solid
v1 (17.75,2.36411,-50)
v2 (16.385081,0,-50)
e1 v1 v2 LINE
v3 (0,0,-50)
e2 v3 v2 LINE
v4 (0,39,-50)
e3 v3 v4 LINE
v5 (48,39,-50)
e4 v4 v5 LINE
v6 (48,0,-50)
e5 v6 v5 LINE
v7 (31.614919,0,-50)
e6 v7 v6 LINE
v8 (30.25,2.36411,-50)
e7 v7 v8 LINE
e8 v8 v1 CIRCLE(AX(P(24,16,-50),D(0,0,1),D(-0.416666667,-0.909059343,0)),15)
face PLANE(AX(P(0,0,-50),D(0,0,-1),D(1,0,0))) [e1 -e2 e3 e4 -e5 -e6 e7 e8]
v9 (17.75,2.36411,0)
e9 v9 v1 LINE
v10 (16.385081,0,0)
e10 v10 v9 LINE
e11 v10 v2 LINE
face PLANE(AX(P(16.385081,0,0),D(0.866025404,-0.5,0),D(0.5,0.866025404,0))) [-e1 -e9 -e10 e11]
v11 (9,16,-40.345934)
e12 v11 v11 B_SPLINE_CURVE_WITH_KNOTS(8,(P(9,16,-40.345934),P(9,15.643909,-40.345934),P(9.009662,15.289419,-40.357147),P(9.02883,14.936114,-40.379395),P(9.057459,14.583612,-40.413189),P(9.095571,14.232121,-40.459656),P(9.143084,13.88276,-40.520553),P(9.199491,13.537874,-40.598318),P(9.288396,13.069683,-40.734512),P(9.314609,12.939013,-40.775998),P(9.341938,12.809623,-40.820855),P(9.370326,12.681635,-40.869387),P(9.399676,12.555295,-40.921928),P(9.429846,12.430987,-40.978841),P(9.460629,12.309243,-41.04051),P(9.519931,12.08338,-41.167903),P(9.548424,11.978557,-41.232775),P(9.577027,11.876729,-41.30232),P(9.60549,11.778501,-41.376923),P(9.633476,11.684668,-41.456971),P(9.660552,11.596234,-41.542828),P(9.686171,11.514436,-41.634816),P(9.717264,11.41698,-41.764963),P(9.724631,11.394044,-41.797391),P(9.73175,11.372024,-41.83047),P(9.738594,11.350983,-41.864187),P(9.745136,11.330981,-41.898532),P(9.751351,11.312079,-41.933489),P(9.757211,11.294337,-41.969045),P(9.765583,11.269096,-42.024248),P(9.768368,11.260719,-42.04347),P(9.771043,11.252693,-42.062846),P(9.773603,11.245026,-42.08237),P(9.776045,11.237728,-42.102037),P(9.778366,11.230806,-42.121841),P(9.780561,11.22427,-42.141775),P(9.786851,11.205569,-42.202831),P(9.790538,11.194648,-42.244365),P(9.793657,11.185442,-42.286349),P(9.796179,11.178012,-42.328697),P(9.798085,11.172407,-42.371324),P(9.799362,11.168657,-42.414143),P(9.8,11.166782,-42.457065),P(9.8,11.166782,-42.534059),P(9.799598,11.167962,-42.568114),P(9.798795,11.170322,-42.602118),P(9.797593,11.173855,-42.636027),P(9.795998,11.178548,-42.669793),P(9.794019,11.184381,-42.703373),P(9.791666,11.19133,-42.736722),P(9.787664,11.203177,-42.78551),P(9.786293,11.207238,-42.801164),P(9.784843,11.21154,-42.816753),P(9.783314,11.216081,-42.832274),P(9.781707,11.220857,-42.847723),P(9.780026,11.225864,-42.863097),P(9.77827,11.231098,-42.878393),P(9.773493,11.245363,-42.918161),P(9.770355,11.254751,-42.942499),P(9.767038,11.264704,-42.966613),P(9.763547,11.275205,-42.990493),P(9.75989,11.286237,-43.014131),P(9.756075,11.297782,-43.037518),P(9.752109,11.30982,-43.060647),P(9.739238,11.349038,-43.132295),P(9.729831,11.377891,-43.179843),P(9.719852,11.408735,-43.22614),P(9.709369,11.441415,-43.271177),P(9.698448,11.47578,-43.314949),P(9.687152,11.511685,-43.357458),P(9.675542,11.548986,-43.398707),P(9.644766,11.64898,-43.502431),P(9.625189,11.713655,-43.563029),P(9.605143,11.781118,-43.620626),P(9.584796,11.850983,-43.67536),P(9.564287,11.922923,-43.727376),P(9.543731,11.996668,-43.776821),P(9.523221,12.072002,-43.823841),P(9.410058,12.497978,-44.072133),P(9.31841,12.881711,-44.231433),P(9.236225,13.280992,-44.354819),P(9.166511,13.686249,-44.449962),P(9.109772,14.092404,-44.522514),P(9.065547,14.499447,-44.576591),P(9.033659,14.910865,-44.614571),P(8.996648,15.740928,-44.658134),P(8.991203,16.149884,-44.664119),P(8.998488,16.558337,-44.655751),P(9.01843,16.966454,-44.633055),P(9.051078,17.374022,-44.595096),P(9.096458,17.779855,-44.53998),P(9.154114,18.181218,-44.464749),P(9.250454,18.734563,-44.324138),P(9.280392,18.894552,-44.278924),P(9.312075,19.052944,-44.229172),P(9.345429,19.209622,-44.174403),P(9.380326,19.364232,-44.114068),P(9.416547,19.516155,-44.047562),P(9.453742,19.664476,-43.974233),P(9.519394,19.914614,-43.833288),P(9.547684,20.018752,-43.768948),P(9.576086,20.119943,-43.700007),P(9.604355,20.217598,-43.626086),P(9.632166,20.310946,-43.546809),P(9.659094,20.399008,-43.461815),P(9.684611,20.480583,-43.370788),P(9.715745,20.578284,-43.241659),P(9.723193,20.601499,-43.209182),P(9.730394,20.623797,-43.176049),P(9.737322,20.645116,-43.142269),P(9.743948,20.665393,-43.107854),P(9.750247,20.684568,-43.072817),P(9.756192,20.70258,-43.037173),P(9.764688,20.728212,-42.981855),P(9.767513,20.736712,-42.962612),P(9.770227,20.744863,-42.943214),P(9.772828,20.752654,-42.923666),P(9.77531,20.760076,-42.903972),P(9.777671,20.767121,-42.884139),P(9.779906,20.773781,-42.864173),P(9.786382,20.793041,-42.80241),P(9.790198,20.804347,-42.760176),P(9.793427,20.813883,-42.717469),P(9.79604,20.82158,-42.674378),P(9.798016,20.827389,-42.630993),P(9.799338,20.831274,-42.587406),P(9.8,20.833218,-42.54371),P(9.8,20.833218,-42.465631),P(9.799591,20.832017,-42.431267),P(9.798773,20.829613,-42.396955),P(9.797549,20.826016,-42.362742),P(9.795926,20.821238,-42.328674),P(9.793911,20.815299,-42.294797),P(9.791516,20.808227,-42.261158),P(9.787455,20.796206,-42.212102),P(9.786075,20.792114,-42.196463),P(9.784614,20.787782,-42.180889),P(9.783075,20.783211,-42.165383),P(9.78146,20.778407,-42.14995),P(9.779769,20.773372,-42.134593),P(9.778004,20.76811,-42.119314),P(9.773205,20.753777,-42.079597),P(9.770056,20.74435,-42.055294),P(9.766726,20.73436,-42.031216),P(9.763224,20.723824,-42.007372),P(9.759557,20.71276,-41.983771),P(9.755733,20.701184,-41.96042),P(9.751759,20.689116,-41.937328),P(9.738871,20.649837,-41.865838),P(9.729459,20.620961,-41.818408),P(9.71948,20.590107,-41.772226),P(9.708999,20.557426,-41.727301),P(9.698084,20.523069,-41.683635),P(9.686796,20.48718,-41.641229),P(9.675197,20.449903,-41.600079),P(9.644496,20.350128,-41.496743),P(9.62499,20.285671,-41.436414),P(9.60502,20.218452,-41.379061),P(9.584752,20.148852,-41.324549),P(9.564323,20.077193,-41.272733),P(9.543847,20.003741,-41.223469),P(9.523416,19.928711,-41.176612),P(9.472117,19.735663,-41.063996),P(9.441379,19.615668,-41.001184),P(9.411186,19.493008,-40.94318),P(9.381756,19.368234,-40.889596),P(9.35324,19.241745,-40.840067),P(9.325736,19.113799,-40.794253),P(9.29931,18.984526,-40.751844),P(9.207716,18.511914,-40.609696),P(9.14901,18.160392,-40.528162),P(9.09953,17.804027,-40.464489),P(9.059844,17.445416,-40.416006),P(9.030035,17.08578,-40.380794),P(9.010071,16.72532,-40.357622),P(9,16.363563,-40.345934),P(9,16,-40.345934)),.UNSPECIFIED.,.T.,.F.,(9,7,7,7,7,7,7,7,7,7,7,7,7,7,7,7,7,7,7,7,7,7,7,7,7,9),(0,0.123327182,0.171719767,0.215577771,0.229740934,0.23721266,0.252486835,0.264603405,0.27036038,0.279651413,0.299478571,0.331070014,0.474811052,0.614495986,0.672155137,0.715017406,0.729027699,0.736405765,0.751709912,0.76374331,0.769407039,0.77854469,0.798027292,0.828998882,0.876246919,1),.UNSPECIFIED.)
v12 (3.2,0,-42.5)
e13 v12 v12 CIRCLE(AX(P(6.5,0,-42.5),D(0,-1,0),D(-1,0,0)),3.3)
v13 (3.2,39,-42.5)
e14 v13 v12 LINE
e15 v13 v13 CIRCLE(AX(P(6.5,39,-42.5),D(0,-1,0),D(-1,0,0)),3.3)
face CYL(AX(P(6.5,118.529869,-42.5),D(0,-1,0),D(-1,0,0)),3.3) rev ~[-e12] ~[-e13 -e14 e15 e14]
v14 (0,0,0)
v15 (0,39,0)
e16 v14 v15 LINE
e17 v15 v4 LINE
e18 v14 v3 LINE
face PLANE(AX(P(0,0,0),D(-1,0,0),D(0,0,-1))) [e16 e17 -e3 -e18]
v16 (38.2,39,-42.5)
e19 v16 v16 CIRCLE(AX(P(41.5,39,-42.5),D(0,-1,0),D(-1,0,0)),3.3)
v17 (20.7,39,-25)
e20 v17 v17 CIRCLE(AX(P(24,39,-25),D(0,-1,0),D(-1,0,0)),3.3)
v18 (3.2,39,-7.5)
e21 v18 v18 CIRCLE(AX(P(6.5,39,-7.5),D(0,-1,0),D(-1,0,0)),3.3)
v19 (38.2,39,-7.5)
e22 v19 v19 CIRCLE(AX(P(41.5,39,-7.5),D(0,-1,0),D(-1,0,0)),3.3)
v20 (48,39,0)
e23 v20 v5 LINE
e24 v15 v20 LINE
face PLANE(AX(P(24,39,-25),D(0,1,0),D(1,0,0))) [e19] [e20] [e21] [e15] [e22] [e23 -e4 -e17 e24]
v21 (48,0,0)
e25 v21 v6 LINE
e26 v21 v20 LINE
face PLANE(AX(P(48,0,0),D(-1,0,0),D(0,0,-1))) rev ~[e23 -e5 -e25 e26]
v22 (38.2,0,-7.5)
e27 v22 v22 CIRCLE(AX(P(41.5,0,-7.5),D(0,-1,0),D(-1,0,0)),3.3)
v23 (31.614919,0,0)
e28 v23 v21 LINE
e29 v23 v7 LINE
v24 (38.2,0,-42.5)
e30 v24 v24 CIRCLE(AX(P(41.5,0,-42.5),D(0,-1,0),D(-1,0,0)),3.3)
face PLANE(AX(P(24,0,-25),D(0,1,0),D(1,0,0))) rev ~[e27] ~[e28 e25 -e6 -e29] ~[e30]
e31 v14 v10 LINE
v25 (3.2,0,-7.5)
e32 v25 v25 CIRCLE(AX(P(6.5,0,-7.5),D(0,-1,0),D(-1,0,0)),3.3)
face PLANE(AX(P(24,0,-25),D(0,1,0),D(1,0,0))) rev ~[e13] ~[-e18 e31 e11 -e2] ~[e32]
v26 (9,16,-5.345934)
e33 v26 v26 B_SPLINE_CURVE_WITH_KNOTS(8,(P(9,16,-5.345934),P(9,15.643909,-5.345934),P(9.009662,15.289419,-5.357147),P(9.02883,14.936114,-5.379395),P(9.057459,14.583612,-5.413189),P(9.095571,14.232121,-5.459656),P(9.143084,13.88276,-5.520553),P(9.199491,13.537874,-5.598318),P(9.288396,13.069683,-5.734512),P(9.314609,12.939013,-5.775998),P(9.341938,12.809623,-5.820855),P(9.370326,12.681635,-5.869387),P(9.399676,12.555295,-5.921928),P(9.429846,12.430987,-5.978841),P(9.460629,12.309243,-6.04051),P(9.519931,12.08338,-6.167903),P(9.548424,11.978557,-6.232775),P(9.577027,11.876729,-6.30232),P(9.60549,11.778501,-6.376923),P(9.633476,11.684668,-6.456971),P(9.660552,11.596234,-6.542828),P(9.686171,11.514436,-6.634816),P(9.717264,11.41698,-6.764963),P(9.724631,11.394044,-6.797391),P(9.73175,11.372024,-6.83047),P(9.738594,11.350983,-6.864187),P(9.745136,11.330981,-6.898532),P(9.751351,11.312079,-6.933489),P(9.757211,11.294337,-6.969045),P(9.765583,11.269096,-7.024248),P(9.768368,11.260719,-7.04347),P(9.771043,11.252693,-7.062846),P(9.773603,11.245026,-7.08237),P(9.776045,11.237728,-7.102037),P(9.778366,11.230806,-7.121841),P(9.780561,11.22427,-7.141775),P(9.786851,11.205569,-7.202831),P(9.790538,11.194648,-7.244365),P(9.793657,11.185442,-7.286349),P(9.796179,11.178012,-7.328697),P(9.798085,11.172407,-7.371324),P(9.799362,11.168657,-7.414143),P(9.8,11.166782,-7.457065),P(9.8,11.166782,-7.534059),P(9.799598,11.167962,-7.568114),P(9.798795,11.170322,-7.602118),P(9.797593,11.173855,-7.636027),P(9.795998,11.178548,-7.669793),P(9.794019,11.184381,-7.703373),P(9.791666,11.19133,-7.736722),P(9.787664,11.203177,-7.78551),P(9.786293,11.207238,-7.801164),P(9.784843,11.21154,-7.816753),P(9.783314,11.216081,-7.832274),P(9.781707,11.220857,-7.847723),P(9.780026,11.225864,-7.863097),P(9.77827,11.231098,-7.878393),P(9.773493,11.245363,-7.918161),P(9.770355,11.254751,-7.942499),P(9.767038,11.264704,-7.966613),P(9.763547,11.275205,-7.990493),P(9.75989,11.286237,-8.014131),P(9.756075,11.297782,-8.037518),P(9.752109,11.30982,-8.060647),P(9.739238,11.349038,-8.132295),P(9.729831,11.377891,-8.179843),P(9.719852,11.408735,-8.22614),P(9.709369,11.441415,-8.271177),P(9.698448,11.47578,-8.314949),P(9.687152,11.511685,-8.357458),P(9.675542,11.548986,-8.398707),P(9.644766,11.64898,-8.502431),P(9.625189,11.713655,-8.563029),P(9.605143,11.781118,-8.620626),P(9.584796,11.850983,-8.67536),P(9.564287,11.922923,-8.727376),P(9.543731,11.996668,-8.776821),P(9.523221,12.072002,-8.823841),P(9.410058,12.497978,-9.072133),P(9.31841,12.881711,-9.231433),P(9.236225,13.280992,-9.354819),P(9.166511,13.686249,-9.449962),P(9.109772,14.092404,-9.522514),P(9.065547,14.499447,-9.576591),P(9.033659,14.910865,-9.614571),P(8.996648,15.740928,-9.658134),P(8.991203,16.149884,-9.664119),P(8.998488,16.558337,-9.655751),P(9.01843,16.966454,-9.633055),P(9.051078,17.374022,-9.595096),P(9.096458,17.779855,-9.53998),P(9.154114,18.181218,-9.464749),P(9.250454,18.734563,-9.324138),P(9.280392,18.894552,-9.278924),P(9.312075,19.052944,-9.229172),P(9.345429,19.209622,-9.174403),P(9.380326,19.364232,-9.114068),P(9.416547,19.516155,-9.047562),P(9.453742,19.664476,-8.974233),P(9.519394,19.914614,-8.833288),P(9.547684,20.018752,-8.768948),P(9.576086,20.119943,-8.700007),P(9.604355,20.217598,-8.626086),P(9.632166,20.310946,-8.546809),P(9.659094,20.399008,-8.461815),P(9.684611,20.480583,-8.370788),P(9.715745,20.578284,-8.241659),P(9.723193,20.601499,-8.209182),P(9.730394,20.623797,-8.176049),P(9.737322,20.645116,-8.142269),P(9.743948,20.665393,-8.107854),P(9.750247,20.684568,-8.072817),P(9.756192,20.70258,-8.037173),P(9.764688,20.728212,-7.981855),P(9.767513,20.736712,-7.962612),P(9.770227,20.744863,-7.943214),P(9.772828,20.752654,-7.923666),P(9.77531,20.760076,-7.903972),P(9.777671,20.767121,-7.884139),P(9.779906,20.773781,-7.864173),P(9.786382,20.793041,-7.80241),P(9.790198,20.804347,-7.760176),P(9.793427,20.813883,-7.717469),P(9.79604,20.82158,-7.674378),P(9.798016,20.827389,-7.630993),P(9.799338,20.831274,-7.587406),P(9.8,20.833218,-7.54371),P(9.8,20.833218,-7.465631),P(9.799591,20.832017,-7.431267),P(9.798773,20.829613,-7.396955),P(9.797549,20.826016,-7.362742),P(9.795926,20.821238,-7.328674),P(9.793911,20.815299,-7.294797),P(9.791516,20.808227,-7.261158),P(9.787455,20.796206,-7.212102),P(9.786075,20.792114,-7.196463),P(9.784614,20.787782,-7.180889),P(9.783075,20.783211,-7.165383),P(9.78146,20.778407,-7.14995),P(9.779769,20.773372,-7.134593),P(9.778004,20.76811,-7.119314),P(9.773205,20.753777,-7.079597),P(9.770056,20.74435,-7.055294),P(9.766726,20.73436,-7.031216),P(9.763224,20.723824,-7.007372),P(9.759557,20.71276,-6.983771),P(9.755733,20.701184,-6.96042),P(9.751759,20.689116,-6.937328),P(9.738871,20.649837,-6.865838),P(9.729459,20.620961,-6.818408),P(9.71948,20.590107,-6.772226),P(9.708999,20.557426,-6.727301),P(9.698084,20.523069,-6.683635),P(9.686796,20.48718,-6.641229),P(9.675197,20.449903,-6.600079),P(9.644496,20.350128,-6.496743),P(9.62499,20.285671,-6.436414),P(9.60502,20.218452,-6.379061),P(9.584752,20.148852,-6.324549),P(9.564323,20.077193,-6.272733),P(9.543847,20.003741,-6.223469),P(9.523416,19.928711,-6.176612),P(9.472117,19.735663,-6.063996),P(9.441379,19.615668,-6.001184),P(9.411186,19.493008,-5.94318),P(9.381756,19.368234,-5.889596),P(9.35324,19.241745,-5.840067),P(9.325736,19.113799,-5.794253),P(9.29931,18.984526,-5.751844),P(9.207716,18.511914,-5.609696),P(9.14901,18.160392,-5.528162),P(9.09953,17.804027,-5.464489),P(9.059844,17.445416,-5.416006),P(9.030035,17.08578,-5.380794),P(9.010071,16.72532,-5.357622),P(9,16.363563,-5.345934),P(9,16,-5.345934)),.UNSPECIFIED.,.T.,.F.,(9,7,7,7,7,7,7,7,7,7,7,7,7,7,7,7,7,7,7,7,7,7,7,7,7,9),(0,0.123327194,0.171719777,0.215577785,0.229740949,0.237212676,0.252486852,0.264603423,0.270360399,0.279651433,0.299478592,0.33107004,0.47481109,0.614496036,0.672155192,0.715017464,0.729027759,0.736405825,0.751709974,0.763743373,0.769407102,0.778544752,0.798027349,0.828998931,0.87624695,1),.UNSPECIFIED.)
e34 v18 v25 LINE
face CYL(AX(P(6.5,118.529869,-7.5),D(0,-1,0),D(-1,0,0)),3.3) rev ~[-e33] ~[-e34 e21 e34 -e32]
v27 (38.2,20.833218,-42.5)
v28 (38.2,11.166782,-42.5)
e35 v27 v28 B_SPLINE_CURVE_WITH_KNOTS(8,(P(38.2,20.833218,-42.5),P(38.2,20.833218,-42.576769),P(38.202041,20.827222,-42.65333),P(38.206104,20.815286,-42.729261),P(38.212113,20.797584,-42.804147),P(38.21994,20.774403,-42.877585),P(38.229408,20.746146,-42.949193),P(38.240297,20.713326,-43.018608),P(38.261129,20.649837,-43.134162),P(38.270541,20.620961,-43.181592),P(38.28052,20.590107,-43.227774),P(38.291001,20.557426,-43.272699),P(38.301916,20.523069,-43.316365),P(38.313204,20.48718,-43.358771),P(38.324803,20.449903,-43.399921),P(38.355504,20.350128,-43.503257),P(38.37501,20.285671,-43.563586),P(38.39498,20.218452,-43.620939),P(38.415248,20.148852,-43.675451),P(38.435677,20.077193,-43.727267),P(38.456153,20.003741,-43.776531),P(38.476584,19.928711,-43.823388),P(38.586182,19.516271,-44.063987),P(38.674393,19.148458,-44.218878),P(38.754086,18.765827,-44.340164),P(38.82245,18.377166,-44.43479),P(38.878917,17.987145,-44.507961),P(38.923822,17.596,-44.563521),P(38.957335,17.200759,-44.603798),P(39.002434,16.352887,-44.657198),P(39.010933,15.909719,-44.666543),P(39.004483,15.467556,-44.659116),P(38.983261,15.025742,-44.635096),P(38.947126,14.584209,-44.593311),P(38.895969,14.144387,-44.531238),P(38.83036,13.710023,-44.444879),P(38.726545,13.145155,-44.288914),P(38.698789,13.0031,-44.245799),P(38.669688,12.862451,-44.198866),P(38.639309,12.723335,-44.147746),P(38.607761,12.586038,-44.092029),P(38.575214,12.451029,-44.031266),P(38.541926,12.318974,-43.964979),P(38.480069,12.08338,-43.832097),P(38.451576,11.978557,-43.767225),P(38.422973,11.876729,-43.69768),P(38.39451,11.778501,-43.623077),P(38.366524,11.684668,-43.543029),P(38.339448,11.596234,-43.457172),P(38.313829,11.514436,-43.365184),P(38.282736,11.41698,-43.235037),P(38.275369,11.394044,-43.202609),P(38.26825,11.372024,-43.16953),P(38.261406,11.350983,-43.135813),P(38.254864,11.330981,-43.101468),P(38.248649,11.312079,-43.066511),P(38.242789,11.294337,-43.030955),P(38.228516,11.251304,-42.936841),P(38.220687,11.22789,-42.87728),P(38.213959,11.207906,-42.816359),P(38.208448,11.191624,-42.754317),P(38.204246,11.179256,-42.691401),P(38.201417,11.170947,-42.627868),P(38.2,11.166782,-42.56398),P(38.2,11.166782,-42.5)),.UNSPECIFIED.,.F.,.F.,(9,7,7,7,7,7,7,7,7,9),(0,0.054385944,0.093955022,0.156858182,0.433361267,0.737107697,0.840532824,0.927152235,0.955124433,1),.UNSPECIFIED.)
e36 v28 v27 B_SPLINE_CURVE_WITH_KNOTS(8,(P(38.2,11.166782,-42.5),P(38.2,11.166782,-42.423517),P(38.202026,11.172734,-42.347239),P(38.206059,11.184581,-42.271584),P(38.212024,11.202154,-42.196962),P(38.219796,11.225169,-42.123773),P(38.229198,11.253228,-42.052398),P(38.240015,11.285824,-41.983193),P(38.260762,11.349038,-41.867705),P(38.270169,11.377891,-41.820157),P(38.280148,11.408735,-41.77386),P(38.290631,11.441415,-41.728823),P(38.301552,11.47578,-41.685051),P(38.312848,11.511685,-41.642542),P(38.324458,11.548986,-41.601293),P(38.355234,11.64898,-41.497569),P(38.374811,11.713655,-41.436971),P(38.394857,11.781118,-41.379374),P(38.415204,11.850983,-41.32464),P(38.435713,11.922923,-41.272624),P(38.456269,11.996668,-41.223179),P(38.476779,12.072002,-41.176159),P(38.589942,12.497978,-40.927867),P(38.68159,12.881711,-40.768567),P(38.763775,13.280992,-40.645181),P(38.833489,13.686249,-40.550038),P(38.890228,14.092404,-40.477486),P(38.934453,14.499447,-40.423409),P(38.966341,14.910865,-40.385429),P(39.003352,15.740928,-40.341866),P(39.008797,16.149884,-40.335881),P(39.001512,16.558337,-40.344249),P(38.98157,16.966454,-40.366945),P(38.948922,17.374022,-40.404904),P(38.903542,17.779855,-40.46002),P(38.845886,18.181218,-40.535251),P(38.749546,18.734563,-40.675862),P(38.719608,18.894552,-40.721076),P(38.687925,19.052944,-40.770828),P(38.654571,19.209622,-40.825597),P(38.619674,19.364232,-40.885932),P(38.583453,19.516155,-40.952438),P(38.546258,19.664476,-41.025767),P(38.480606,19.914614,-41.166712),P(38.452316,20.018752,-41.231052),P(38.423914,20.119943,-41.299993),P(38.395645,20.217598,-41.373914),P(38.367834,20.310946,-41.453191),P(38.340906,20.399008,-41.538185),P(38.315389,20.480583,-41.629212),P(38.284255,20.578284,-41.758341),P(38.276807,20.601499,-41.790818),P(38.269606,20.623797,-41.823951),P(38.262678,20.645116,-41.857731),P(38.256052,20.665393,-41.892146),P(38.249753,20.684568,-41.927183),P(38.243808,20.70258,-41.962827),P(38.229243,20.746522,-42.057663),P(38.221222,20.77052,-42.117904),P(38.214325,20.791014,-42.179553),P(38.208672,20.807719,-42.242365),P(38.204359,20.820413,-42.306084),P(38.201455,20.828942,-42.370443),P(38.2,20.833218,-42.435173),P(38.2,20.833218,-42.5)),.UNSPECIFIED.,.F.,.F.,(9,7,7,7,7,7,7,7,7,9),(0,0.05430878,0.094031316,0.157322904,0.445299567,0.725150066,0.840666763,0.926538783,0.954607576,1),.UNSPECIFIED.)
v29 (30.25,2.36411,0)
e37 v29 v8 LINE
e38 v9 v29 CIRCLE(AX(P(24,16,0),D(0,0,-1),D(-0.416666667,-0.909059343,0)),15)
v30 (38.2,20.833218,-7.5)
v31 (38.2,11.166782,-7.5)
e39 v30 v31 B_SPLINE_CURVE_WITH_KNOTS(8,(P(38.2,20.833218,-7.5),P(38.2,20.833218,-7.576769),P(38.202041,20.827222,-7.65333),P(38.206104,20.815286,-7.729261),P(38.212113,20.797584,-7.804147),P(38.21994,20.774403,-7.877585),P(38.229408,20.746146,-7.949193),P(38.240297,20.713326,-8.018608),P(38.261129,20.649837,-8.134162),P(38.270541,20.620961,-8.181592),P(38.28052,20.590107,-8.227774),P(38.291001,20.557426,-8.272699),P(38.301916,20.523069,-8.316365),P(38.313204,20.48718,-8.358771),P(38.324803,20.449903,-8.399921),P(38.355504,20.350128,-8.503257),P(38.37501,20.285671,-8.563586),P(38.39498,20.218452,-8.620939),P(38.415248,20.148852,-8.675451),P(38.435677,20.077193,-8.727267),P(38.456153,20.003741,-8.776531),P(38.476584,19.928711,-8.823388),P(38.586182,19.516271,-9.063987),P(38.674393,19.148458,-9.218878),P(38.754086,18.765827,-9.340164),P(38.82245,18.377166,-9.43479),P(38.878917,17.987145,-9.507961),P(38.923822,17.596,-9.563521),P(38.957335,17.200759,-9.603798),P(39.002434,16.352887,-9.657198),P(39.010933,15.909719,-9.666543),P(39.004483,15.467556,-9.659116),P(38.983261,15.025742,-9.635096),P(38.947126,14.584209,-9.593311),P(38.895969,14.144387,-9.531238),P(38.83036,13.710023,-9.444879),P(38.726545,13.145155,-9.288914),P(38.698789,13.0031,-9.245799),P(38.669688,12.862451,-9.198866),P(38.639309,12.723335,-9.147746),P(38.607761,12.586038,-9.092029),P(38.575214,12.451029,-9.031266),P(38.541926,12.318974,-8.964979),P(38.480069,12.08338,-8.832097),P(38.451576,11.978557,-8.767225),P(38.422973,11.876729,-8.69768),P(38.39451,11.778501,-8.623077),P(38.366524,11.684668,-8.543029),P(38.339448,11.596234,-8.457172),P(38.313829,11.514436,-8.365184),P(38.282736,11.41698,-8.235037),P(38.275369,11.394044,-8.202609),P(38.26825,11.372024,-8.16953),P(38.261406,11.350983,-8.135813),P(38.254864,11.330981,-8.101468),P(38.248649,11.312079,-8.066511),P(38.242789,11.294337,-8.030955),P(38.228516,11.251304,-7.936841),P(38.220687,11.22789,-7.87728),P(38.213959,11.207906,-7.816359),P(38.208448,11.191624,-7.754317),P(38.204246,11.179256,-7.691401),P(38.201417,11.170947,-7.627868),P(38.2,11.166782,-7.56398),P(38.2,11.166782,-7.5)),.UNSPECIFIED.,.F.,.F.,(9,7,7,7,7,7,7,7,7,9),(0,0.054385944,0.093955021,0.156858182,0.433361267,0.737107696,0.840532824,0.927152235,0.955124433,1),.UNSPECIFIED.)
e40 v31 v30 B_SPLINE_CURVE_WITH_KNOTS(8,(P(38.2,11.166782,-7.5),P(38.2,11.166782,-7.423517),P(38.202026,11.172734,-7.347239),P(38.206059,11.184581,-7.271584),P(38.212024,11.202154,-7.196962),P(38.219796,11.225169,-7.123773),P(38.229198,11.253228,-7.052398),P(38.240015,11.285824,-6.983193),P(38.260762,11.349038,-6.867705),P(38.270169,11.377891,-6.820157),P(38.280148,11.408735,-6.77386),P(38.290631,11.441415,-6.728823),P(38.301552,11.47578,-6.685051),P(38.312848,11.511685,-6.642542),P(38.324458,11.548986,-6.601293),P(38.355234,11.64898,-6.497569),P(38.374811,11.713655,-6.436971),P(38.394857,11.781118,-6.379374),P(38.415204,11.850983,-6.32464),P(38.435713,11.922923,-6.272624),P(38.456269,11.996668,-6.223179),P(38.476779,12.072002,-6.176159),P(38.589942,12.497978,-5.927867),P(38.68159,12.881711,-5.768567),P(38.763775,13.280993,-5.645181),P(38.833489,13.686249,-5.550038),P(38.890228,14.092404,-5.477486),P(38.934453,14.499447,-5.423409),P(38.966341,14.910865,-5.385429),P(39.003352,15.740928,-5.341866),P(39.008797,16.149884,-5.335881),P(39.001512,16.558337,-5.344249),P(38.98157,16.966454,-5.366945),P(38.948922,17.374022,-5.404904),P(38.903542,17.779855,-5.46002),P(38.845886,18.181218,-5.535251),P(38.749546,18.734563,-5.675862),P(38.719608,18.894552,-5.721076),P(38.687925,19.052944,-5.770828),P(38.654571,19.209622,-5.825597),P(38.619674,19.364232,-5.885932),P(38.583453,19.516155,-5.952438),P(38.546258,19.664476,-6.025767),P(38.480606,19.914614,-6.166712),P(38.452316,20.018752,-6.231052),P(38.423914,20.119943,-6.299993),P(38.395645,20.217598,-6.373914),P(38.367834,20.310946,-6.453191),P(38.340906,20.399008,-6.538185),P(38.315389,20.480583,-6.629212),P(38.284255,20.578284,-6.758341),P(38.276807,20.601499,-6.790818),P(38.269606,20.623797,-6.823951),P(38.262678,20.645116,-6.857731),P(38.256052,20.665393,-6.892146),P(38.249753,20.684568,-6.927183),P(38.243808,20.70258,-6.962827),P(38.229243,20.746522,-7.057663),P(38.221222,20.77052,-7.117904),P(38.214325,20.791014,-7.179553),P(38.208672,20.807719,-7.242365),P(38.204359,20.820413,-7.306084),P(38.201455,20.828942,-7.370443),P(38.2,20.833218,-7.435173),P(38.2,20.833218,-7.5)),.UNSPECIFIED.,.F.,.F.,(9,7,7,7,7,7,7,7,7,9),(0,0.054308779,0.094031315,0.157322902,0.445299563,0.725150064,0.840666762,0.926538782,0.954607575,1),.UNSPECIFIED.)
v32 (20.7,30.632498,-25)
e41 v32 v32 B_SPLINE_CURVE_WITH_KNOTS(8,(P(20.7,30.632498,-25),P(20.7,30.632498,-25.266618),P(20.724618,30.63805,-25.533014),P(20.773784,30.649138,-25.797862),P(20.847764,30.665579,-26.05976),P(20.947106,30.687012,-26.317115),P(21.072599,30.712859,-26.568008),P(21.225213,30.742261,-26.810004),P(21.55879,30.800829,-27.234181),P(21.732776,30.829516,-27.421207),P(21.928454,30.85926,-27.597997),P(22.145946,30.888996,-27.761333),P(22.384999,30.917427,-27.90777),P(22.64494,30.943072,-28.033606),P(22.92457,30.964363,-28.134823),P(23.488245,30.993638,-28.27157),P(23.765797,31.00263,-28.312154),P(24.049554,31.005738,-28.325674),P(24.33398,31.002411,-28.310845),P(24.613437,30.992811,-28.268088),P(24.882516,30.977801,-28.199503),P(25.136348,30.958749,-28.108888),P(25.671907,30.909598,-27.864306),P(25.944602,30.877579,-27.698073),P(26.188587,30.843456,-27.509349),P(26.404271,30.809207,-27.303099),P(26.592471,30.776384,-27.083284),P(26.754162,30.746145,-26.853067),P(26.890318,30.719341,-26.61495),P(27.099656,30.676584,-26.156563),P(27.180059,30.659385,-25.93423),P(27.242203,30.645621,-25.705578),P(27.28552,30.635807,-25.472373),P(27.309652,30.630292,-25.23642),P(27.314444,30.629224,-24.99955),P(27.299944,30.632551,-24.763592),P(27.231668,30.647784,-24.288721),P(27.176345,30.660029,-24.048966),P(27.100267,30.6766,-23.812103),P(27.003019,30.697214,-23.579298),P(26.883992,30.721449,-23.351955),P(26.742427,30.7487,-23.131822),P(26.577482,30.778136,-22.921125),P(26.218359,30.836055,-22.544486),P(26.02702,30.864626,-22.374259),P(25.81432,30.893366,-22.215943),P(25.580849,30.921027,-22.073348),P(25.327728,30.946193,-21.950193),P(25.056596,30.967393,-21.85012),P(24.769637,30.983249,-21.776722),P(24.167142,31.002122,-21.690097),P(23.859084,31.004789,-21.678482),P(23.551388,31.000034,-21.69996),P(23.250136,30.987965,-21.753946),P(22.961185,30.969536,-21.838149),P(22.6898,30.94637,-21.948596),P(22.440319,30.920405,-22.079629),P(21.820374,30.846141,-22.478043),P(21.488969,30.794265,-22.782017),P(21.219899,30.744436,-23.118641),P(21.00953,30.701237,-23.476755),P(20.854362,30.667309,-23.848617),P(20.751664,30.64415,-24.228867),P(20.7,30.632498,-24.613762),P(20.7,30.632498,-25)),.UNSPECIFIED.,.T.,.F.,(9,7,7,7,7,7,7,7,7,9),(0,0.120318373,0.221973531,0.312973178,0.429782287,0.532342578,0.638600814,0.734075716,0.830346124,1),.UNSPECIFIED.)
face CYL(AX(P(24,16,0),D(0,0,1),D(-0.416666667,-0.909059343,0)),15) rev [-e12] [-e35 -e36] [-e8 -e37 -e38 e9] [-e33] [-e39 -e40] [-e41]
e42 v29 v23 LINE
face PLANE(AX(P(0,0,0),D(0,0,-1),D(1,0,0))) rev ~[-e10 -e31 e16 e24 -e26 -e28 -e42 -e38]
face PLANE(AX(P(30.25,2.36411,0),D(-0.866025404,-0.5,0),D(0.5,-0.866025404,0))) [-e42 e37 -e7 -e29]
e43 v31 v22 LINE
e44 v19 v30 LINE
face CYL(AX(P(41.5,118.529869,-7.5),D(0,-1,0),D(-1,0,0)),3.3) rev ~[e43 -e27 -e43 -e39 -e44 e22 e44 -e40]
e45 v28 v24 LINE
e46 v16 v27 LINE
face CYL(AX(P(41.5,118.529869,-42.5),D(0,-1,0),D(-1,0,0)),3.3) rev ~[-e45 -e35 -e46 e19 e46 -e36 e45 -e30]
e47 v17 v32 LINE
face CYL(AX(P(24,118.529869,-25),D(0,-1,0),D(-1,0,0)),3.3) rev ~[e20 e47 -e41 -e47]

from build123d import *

# Parameters (mm, degrees)
SKETCH1_W            = 48
SKETCH1_H            = 50
BOSS_EXTRUDE1_DEPTH  = 39
M6_CLEARANCE_HOLE1_D = 6.6
CUT_EXTRUDE1_DEPTH   = 80.529868603


with BuildPart() as part:
    # Sketch1 → Boss-Extrude1 (new body)
    with BuildSketch(Plane(origin=(0, 0, 0), x_dir=(1, 0, 0), z_dir=(0, 1, 0))):
        with Locations((24, 25)):
            Rectangle(SKETCH1_W, SKETCH1_H)
    extrude(amount=BOSS_EXTRUDE1_DEPTH)

    # M6 Clearance Hole1 (through all)
    with Locations(Plane(origin=(0, 39, 0), x_dir=(1, 0, 0), z_dir=(0, 1, 0))):
        with Locations((6.5, 42.5), (41.5, 42.5), (41.5, 7.5), (6.5, 7.5), (24, 25)):
            Hole(M6_CLEARANCE_HOLE1_D / 2)

    # Sketch4 → Cut-Extrude1 (cut, through all)
    with BuildSketch(Plane.XY):
        with BuildLine():
            Line((30.25, 2.364109857), (31.614919462, 0))
            Line((31.614919462, 0), (16.385080538, 0))
            Line((16.385080538, 0), (17.75, 2.364109857))
            ThreePointArc((17.75, 2.364109857), (24, 31), (30.25, 2.364109857))
        make_face()
    extrude(amount=-CUT_EXTRUDE1_DEPTH, mode=Mode.SUBTRACT)


solid = part.part
